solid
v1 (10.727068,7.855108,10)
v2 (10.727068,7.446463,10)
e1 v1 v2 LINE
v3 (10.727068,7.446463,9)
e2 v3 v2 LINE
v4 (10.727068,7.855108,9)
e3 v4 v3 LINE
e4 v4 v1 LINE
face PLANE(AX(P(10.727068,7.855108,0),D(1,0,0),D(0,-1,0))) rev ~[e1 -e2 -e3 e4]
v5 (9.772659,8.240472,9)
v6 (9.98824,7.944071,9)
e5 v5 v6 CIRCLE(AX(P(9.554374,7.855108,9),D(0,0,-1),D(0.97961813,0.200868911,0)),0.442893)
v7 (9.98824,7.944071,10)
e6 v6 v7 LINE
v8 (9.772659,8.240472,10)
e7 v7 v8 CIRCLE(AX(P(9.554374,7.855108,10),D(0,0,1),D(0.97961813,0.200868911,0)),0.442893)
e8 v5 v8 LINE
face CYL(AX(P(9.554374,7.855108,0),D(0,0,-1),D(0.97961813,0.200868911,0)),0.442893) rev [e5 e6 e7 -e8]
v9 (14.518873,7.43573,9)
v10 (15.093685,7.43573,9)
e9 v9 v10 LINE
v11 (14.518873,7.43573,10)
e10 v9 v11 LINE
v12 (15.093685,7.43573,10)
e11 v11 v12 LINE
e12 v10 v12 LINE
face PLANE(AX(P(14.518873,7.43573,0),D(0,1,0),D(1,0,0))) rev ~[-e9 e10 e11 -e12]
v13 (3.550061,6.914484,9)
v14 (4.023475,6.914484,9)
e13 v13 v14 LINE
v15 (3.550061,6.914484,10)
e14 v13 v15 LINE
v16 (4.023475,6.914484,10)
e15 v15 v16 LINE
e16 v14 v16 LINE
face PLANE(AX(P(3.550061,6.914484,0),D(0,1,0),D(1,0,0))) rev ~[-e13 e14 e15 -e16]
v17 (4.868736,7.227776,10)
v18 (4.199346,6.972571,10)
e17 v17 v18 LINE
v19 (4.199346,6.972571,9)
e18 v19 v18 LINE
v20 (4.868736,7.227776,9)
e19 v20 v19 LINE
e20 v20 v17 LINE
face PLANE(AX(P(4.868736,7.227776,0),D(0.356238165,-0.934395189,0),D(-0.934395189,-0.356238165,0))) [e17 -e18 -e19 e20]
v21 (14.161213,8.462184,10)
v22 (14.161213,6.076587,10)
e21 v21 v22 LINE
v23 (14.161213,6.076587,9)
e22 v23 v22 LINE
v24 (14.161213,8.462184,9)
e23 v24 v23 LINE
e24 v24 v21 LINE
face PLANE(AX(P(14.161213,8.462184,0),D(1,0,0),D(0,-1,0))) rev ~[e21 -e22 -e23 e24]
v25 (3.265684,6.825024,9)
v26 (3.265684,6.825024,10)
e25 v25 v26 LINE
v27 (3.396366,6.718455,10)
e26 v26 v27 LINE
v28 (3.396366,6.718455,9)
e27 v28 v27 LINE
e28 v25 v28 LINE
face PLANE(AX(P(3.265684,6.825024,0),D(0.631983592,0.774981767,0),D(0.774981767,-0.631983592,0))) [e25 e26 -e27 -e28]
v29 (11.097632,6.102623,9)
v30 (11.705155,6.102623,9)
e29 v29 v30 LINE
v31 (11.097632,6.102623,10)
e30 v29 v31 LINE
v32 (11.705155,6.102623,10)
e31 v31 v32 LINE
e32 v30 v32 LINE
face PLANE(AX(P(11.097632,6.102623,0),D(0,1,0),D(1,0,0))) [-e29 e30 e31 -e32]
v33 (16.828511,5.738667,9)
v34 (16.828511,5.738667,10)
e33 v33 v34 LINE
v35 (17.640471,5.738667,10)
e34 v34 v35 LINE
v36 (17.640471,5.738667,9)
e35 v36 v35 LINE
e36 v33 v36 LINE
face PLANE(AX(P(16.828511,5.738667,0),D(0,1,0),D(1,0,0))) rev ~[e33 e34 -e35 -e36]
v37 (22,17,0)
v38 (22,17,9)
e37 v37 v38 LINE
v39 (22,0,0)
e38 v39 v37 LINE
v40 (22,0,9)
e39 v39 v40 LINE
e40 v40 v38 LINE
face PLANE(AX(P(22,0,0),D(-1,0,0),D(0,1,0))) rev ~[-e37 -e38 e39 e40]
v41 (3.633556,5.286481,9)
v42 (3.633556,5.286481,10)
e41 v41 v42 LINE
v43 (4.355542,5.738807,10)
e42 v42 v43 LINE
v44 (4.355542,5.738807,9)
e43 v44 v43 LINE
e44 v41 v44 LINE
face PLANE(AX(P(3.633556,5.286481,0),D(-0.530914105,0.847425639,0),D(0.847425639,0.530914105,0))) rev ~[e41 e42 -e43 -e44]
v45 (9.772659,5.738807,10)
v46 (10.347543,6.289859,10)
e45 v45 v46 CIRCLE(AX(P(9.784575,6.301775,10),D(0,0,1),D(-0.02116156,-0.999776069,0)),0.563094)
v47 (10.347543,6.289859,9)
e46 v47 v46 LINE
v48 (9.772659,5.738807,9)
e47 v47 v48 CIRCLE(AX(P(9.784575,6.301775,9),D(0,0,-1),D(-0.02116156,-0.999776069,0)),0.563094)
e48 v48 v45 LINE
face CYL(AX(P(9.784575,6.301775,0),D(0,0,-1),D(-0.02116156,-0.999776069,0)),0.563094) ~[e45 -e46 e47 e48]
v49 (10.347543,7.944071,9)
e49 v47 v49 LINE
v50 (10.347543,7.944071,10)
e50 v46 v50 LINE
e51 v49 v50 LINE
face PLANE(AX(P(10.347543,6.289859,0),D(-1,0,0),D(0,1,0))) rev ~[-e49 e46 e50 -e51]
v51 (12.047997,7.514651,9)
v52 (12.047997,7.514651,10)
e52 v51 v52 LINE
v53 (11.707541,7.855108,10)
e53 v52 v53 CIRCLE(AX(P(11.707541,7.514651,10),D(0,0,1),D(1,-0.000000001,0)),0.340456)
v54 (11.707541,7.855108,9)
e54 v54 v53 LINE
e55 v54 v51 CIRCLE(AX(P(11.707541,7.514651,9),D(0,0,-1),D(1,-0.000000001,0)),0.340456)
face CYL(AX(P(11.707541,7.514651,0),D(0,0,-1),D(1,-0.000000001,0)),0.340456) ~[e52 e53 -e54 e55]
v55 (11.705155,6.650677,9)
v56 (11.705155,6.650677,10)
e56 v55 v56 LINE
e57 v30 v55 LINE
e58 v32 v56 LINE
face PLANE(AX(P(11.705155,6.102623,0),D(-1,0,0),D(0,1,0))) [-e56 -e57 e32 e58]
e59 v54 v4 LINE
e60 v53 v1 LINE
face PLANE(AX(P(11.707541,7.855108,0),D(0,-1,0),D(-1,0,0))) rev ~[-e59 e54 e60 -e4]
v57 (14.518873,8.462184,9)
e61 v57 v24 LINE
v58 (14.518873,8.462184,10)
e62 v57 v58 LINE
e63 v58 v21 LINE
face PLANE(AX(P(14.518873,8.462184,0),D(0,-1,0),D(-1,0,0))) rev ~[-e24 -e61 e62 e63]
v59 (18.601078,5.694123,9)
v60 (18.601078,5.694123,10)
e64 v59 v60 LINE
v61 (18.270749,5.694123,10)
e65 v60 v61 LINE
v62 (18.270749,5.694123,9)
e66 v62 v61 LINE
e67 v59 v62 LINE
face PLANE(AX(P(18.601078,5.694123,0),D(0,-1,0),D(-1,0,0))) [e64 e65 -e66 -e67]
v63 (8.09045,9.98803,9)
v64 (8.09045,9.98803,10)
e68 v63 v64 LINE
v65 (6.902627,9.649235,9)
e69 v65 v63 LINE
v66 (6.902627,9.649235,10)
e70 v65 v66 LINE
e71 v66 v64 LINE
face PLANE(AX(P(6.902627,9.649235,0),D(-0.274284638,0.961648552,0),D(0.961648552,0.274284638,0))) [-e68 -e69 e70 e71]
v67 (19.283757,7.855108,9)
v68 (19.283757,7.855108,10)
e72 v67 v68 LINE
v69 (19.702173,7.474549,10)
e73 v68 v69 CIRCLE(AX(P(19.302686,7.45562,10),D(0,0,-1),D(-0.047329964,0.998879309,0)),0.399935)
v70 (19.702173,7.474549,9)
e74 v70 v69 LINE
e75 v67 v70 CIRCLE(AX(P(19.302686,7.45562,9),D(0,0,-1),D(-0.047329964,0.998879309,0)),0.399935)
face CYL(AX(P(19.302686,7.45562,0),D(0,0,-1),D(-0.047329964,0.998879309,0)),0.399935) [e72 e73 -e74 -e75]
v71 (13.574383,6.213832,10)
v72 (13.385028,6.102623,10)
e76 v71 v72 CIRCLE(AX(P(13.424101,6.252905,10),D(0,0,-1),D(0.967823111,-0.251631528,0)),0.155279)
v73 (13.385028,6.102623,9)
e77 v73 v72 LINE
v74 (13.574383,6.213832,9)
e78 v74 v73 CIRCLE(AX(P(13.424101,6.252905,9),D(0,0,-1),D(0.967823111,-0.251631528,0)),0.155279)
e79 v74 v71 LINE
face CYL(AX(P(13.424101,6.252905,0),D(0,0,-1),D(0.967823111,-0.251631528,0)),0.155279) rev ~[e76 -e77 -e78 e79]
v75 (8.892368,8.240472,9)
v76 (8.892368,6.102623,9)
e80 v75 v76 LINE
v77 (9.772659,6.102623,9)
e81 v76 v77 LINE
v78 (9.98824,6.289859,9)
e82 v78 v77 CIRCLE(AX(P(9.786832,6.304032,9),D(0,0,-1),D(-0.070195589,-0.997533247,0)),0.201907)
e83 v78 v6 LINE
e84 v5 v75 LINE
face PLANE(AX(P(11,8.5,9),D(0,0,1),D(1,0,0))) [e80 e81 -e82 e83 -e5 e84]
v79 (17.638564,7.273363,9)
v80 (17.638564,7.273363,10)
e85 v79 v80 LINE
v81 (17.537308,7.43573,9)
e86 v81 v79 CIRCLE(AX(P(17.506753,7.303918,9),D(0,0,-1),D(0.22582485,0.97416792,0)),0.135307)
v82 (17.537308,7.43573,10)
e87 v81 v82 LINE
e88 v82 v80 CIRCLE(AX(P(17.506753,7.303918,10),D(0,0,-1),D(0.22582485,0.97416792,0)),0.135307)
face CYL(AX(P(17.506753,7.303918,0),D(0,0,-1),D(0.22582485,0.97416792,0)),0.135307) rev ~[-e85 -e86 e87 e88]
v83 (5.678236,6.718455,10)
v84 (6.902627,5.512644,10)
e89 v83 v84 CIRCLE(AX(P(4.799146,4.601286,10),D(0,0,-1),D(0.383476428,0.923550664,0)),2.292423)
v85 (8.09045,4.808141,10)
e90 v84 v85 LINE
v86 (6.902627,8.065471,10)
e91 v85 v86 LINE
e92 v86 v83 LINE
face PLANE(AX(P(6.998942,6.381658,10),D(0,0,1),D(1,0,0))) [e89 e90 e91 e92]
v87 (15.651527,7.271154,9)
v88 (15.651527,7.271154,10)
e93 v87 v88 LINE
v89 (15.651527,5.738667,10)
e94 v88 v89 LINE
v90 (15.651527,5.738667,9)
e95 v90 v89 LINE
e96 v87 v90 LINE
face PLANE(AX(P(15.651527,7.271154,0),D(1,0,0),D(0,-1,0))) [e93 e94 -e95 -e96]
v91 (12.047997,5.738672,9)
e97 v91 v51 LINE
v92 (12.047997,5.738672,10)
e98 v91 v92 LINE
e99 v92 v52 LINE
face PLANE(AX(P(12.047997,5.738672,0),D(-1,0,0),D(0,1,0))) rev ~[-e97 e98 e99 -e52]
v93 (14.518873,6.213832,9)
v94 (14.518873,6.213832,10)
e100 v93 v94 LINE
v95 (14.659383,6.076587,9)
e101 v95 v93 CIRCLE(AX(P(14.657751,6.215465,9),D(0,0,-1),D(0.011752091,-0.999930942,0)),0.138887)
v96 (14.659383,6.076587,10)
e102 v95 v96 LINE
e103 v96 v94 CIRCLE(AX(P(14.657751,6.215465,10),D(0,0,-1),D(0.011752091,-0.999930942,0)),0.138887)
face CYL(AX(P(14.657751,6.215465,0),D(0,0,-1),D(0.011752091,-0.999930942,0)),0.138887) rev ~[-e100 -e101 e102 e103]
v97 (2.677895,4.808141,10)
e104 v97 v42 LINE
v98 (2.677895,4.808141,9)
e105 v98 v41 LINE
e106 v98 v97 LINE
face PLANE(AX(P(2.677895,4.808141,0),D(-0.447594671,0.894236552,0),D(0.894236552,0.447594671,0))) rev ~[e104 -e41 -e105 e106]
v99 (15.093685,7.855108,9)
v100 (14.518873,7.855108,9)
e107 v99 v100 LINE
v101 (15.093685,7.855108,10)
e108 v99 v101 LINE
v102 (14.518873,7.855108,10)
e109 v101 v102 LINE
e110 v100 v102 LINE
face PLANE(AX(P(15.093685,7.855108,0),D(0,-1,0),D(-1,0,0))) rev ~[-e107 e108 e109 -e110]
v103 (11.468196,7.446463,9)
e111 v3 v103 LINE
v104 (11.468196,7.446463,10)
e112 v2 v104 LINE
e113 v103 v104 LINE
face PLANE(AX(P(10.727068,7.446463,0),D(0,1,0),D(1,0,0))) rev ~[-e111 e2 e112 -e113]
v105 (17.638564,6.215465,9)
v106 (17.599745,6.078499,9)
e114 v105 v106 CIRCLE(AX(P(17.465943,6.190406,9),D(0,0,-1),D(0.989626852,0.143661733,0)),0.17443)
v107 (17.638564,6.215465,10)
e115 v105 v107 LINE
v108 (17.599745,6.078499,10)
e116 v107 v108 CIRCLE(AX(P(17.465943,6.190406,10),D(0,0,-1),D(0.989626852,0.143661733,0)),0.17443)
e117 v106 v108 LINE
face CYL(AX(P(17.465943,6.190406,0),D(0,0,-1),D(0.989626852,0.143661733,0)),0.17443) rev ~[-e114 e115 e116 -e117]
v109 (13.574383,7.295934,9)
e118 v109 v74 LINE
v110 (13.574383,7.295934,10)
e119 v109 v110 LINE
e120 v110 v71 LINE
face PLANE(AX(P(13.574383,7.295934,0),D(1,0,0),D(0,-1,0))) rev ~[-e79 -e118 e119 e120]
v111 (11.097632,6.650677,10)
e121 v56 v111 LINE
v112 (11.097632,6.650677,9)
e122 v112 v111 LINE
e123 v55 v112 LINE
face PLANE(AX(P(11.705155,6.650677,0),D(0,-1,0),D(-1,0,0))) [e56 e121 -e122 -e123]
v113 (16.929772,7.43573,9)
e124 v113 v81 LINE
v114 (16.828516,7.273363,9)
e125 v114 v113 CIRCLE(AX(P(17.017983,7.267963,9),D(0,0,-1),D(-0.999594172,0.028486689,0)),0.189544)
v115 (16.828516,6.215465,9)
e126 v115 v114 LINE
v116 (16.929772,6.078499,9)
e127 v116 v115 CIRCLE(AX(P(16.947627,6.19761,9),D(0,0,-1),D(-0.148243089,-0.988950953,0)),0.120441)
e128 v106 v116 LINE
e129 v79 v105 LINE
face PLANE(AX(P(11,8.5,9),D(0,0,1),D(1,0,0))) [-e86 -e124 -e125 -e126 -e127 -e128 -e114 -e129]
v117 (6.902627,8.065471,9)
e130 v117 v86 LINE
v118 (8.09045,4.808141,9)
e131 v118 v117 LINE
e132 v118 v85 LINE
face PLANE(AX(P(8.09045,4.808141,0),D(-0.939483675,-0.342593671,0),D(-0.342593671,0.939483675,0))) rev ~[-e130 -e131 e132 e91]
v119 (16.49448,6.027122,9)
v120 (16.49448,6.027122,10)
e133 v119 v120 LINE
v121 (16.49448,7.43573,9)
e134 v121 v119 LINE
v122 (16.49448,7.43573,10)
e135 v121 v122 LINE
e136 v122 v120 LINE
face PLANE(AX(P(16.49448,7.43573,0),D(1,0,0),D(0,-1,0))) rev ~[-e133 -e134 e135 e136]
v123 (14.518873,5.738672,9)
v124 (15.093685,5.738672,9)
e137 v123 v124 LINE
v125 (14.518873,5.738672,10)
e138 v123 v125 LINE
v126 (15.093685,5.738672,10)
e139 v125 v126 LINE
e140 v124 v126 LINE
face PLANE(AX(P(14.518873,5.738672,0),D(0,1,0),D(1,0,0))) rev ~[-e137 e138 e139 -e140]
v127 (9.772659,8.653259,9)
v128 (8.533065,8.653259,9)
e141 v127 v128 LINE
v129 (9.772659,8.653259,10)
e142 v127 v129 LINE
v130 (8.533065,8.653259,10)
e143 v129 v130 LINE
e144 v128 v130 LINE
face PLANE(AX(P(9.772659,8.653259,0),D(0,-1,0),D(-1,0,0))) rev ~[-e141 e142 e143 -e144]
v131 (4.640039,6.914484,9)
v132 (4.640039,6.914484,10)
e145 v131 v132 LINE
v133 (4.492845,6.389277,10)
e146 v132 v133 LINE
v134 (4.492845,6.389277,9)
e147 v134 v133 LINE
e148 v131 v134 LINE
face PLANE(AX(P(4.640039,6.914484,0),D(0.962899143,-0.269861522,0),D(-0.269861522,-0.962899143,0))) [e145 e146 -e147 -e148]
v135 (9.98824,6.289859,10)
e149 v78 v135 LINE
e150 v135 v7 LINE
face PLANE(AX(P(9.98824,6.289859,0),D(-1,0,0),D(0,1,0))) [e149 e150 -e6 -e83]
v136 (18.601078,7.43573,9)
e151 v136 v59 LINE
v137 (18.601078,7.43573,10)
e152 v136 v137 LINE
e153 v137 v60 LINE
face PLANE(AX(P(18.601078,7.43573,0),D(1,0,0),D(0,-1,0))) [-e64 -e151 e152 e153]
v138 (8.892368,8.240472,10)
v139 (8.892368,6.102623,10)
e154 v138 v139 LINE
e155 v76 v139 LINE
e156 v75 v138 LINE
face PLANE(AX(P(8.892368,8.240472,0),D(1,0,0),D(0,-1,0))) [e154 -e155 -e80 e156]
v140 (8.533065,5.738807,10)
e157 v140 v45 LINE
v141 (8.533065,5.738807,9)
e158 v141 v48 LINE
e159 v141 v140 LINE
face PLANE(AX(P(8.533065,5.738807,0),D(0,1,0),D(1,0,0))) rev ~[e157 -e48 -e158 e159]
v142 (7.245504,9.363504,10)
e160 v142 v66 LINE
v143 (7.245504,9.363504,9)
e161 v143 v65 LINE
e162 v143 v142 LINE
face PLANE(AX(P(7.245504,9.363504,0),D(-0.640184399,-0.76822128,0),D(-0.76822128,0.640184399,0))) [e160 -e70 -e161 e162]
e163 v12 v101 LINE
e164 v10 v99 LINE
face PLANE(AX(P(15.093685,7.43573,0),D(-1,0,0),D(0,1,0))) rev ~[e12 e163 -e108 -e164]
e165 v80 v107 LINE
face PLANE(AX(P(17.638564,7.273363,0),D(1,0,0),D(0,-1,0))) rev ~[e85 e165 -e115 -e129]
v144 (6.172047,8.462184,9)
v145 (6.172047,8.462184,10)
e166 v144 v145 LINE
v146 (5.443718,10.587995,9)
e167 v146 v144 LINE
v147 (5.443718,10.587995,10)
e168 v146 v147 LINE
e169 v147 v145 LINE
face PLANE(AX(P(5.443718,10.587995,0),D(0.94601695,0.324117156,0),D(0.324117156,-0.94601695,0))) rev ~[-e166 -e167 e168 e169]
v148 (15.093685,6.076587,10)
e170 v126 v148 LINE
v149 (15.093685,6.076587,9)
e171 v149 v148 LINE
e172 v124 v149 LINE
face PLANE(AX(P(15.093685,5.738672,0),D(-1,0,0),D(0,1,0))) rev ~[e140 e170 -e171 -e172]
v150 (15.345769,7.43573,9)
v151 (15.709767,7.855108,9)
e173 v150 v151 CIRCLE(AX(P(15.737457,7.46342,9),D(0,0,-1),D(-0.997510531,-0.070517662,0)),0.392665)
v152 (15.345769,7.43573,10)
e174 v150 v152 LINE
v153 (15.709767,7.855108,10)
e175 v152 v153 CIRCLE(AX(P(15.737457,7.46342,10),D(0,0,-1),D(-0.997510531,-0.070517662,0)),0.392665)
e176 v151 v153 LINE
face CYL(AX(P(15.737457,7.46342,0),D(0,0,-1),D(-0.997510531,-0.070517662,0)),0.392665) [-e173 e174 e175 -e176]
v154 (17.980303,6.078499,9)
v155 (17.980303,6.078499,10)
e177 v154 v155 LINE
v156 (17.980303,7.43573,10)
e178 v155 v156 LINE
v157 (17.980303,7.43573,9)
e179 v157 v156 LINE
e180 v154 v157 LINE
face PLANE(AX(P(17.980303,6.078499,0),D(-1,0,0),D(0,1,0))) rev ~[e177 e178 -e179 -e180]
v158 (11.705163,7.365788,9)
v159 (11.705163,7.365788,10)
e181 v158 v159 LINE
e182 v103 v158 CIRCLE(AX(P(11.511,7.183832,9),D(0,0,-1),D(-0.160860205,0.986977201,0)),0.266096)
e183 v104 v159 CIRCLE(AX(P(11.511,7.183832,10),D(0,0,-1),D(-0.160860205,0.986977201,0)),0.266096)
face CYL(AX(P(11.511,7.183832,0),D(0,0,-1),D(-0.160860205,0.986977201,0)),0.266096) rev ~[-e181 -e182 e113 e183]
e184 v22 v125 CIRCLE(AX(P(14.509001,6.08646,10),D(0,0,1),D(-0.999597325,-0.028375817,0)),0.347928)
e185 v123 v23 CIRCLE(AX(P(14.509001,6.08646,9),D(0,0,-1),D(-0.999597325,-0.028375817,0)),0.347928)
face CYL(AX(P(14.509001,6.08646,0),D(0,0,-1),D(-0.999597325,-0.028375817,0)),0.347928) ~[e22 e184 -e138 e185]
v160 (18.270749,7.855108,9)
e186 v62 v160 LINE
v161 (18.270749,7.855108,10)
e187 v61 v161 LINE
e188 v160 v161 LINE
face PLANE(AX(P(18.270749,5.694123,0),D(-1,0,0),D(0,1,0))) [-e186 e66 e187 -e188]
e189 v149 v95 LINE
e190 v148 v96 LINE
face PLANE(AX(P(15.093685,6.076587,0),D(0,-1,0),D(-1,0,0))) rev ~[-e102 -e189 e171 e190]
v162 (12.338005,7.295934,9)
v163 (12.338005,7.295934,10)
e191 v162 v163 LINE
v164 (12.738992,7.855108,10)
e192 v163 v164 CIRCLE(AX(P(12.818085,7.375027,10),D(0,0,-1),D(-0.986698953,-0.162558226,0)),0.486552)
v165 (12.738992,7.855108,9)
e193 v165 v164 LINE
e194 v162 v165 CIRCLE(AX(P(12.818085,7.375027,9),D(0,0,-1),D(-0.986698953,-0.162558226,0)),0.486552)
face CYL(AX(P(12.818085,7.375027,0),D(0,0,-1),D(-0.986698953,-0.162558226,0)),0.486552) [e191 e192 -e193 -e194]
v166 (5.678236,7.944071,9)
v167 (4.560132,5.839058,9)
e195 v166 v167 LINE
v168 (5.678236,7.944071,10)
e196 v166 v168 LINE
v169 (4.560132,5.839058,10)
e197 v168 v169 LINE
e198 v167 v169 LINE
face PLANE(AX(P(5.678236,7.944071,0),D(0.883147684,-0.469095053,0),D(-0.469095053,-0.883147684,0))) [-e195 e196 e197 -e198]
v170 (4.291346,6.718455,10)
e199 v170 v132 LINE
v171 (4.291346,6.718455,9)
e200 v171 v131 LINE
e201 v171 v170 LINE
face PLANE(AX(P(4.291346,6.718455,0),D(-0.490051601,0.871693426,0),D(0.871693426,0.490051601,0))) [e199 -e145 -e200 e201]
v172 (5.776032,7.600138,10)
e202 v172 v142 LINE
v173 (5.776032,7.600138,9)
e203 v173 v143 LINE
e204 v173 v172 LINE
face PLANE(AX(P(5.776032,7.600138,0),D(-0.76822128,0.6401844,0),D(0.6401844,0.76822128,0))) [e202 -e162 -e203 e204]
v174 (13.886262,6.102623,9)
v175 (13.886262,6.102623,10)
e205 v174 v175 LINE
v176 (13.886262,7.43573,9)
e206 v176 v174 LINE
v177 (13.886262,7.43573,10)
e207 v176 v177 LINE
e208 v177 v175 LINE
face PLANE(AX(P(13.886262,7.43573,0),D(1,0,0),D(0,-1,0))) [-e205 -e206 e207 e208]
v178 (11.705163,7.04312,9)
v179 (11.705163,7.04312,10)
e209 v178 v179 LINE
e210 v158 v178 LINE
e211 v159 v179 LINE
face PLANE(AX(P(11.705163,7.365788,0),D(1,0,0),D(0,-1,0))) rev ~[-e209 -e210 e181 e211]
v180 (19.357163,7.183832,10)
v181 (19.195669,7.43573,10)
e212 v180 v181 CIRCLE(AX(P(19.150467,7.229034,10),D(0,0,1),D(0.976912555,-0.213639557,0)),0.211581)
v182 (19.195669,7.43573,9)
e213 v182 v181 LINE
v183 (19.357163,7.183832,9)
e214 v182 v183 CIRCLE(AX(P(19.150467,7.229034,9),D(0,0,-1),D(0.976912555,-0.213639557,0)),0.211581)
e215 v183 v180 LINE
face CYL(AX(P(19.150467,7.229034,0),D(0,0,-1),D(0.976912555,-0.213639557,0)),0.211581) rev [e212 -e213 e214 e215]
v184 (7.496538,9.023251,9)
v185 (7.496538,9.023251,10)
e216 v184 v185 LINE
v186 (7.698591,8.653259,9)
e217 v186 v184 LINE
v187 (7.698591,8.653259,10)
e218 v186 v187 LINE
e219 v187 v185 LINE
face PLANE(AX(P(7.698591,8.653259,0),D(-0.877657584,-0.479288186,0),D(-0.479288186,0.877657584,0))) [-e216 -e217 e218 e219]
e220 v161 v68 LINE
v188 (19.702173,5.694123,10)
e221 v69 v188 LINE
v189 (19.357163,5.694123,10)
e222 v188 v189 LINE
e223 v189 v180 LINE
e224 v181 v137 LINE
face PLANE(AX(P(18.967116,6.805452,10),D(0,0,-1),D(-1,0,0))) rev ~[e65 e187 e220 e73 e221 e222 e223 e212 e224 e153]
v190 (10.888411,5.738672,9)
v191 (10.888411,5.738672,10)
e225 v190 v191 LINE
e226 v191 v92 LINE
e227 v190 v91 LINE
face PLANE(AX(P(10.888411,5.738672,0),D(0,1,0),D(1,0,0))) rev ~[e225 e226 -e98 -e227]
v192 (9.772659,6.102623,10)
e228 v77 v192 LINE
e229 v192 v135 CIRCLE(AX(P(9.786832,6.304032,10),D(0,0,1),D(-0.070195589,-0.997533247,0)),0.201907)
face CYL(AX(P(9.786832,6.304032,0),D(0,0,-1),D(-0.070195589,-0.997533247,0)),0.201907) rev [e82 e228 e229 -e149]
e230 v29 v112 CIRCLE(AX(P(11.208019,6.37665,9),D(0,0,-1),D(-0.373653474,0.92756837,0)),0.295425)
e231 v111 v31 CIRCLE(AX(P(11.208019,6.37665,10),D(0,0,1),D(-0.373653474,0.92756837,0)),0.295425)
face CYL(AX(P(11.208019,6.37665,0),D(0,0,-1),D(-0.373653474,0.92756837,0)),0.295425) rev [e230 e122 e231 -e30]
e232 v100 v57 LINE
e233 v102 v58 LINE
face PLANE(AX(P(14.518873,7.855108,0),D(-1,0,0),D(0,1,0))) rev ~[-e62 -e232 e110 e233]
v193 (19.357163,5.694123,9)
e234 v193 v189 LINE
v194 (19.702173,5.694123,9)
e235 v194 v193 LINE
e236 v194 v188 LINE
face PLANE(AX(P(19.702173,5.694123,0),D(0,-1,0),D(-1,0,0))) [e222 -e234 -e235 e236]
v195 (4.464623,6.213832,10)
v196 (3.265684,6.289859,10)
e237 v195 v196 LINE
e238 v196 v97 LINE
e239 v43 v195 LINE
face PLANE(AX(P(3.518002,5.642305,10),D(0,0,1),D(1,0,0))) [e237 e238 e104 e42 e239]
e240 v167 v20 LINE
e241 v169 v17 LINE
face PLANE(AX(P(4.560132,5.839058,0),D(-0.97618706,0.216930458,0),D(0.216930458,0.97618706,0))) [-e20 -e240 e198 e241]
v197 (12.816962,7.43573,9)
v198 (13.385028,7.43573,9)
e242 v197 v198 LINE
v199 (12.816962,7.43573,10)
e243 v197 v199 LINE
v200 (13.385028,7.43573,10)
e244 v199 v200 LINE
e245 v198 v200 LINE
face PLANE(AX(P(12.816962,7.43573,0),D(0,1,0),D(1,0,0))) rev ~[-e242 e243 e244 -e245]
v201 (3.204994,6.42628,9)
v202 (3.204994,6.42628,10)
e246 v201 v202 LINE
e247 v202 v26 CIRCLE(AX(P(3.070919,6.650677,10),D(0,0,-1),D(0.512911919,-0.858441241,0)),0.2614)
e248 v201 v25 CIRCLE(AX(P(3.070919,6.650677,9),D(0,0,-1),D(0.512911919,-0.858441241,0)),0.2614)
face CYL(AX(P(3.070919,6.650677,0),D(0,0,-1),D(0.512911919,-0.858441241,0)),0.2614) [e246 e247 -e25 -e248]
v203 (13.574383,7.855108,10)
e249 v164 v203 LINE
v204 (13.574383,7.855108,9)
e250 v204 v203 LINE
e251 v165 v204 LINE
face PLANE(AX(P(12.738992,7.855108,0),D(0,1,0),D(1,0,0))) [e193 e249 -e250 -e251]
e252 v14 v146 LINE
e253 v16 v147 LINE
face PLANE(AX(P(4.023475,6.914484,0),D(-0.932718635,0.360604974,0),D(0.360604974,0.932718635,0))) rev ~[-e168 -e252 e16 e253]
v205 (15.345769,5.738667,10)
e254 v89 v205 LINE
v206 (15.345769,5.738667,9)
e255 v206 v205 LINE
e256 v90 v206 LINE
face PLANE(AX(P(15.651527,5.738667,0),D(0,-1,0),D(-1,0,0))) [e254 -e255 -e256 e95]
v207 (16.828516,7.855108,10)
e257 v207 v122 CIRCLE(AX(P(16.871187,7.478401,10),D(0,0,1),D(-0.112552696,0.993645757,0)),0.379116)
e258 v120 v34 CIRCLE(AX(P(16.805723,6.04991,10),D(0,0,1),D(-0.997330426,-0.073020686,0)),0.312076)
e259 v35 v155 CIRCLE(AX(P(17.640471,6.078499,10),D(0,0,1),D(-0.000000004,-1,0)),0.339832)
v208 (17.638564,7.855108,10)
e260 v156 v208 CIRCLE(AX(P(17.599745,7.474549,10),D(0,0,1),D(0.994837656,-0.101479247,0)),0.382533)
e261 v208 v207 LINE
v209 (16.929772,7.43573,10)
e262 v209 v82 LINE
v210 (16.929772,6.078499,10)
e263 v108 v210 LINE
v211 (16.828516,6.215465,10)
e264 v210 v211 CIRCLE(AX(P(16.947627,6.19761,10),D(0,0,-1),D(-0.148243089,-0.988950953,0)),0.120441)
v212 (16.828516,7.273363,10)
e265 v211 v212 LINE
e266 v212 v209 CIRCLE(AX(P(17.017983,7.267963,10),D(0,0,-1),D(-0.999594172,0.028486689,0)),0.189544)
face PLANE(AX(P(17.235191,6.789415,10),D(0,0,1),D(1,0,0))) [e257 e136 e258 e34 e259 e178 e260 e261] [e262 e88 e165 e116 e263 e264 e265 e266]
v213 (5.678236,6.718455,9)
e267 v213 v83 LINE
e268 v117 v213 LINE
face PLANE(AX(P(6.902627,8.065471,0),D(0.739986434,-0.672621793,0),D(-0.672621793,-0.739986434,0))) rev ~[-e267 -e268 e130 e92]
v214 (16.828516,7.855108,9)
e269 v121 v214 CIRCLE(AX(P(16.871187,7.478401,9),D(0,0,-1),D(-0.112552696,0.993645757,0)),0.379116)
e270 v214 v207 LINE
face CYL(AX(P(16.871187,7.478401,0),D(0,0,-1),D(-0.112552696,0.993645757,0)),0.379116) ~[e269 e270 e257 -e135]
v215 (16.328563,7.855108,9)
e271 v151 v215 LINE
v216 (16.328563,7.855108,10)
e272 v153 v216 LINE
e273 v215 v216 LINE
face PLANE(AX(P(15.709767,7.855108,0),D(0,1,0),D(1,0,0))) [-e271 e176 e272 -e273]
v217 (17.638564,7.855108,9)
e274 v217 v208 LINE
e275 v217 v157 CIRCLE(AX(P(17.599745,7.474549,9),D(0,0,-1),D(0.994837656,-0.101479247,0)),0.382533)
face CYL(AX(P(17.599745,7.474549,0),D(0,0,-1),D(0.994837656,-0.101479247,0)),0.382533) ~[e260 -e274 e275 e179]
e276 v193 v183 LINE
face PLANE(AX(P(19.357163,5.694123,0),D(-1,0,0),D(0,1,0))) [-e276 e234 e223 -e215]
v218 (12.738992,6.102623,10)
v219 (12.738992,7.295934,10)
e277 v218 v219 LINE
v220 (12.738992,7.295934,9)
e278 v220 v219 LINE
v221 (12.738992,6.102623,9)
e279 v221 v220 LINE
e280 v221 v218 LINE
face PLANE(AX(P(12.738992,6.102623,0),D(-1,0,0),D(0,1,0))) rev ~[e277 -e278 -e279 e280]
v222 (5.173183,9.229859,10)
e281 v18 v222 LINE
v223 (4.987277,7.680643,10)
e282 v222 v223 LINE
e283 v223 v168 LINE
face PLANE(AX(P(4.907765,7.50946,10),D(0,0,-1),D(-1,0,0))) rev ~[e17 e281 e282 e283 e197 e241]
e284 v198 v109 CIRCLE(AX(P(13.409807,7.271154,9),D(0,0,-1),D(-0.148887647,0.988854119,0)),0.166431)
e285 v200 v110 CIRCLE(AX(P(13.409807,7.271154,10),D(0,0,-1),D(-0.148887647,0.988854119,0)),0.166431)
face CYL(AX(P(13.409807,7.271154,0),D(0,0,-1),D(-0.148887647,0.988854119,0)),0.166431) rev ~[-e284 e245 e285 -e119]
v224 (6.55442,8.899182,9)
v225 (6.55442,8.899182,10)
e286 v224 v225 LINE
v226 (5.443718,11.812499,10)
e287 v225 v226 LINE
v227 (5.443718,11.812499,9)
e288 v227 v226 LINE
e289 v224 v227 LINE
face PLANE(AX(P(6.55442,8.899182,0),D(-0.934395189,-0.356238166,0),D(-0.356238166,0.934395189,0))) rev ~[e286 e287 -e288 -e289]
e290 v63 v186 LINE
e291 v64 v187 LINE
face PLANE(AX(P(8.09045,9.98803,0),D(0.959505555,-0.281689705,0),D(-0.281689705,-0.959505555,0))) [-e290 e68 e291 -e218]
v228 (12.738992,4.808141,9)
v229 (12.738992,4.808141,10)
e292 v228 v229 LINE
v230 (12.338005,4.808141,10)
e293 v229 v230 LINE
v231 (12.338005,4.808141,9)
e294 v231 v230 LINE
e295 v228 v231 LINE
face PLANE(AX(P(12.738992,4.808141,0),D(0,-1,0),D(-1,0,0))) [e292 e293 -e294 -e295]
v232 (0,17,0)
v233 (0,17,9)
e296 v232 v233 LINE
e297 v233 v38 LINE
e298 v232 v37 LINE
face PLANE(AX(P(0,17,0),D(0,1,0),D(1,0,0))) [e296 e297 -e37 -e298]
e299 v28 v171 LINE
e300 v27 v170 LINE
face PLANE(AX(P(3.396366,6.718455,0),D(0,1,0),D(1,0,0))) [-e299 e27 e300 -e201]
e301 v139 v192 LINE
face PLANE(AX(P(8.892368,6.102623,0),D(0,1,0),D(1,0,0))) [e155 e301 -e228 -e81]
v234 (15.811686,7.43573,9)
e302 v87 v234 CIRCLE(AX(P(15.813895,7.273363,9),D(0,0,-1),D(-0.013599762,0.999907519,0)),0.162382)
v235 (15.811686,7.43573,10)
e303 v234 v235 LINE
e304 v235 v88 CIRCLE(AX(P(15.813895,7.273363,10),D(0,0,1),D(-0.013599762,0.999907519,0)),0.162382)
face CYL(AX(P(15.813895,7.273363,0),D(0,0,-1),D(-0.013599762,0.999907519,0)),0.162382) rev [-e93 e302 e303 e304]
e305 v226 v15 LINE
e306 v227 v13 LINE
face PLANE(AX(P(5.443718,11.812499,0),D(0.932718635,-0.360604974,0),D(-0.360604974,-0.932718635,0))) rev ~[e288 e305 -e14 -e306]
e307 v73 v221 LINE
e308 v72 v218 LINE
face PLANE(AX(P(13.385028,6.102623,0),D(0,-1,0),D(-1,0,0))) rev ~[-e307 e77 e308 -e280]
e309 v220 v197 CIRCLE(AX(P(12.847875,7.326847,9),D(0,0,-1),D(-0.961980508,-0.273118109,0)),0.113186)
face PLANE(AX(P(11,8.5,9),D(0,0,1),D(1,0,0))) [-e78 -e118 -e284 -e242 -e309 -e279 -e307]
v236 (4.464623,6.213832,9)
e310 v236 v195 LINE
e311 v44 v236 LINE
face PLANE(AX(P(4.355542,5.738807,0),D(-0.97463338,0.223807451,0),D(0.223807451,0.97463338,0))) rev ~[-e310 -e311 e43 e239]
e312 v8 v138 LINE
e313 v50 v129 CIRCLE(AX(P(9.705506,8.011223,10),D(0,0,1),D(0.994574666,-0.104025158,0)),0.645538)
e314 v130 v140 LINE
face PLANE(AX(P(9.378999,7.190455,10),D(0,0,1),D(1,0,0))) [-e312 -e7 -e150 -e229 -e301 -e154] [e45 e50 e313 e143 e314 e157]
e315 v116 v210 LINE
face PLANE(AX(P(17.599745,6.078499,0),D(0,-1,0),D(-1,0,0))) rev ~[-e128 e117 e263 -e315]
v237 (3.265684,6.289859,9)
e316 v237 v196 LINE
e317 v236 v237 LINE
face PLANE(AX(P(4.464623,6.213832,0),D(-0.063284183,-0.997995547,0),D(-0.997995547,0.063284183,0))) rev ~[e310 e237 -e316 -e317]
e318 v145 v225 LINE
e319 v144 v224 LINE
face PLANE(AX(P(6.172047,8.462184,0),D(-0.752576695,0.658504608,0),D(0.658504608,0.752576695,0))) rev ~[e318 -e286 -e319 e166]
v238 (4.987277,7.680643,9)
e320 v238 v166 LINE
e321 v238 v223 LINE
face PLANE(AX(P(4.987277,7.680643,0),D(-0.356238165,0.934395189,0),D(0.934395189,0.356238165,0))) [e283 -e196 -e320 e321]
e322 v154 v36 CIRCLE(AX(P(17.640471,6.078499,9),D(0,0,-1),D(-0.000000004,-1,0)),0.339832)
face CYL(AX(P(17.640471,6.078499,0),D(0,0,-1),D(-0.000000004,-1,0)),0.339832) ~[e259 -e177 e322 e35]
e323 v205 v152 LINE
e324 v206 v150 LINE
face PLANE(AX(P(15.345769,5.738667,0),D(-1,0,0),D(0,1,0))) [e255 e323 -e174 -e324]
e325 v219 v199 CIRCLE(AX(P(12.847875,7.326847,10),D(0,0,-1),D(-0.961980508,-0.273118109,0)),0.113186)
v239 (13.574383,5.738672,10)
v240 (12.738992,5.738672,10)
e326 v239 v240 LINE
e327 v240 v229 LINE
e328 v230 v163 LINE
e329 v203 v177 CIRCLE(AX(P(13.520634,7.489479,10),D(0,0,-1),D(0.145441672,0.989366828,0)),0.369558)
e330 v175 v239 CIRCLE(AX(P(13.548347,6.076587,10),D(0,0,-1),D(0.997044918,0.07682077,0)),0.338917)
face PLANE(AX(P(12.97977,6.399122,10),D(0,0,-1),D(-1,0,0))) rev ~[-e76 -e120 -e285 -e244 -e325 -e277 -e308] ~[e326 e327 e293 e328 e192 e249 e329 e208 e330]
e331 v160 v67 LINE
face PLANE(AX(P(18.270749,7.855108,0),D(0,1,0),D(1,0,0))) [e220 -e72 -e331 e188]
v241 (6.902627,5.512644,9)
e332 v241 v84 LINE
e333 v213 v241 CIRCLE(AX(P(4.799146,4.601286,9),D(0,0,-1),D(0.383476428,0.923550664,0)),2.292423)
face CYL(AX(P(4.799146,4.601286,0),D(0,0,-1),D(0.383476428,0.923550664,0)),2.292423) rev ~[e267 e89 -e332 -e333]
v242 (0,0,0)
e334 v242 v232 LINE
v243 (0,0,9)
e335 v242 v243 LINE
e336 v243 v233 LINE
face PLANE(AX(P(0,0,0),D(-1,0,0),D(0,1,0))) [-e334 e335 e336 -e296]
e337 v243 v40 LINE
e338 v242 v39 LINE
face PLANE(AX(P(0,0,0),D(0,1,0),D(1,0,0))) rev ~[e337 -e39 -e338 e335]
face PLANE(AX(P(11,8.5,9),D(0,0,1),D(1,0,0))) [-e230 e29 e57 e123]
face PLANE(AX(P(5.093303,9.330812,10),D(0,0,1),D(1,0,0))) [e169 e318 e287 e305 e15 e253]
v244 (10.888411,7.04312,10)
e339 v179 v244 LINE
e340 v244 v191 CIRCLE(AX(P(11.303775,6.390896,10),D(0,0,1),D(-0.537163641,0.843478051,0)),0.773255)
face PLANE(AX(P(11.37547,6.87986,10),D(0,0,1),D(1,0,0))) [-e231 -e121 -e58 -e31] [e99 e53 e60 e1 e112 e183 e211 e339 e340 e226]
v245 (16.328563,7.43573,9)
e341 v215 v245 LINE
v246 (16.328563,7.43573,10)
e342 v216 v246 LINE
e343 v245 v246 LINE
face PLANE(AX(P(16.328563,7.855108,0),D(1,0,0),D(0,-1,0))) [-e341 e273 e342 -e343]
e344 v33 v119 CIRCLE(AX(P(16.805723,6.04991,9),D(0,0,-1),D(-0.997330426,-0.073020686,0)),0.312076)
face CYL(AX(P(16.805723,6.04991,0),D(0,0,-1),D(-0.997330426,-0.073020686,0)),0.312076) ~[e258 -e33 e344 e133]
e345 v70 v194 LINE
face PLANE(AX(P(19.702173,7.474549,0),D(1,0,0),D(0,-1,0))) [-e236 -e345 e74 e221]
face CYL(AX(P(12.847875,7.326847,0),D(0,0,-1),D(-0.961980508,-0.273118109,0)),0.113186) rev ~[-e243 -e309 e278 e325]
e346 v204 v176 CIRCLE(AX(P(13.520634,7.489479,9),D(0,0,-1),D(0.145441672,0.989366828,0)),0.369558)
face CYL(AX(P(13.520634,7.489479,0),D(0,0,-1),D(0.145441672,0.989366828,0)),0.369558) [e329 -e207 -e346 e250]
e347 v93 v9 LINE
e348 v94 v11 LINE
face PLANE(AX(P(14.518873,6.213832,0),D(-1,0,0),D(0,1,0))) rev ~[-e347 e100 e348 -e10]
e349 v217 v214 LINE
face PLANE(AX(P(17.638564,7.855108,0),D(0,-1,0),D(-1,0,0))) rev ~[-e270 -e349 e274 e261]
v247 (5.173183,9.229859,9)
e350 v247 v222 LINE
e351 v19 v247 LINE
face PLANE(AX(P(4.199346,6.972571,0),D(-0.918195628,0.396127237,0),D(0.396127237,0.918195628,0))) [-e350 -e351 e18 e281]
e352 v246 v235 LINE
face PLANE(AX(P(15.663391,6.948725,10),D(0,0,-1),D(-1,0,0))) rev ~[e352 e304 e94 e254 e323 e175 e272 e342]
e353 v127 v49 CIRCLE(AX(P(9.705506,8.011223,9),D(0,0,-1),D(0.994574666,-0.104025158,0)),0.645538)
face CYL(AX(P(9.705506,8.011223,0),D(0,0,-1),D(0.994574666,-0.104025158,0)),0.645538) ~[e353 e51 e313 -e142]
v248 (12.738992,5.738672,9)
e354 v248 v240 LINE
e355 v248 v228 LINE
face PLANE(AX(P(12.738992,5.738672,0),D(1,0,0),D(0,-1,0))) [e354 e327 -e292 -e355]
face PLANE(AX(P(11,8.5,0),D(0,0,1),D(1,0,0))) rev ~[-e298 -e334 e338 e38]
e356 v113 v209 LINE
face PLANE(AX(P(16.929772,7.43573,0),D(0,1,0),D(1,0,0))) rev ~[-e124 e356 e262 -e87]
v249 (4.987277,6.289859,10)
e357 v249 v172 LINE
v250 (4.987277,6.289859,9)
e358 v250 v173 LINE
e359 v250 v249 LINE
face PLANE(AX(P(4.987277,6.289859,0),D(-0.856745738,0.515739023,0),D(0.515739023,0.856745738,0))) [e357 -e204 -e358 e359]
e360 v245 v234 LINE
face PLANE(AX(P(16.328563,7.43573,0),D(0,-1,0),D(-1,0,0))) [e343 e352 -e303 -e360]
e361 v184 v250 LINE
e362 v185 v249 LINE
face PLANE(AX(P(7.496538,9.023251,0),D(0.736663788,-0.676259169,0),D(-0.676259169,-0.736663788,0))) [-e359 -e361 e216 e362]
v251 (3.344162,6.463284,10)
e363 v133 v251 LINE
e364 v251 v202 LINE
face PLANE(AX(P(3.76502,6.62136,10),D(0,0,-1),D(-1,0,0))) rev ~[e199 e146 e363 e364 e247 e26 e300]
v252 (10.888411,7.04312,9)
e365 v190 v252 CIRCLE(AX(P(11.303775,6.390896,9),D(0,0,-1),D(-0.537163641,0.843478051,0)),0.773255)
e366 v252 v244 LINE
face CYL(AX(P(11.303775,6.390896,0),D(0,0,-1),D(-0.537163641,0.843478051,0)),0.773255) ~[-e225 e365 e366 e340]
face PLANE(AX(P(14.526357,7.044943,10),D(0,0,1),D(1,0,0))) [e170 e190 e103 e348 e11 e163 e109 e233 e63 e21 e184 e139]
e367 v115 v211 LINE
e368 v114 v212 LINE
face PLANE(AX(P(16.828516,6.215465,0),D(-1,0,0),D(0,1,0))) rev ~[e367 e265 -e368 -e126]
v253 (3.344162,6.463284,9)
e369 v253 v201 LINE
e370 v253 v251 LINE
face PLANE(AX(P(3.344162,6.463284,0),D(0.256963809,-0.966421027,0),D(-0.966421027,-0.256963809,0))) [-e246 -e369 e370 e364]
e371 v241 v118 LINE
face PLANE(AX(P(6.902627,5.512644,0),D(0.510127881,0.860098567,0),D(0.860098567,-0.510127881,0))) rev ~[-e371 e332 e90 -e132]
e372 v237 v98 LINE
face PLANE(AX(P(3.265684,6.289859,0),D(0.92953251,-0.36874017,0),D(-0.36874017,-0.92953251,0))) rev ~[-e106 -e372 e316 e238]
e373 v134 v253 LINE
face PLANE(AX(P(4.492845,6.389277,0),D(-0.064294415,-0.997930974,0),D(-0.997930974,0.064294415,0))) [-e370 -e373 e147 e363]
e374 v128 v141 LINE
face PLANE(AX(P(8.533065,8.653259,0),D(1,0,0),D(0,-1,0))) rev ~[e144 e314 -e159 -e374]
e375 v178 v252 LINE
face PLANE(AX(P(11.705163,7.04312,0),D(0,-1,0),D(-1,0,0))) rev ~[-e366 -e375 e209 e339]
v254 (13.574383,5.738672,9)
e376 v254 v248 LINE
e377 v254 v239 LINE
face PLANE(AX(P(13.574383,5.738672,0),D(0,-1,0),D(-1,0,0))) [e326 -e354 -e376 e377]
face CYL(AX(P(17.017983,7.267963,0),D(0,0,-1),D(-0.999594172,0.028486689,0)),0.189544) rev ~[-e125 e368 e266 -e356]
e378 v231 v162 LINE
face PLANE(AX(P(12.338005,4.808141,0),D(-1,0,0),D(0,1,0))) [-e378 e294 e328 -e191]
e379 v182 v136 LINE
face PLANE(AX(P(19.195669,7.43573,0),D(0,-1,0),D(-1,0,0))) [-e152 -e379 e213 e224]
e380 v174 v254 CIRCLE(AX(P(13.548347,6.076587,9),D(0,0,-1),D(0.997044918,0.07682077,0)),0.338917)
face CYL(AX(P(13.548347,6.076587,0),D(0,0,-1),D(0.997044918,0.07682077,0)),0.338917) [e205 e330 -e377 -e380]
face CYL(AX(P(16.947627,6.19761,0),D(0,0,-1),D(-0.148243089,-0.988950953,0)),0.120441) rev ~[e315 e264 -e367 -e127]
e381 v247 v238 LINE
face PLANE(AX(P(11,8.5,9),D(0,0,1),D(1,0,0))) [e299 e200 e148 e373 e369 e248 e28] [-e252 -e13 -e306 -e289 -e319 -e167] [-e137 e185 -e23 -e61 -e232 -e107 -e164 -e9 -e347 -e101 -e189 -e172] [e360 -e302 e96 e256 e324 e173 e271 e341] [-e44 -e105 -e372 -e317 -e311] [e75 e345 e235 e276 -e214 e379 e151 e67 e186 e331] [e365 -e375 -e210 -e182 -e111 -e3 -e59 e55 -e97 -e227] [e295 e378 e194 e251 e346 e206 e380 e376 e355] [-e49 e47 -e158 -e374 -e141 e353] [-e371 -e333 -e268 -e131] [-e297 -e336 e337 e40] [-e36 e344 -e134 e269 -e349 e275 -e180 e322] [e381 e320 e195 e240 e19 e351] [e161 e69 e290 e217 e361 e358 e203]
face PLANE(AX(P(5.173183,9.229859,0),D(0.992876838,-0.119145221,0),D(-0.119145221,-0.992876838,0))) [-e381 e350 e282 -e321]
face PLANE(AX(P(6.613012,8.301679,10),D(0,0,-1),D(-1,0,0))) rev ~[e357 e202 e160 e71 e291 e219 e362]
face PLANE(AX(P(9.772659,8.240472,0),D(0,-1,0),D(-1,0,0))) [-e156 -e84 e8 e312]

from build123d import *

# Parameters (mm, degrees)
BOSS_EXTRU_1_DEPTH    = 10
BOSS_EXTRU_1_2_DEPTH  = 10
BOSS_EXTRU_1_3_DEPTH  = 10
BOSS_EXTRU_1_4_DEPTH  = 10
BOSS_EXTRU_1_5_DEPTH  = 10
BOSS_EXTRU_1_6_DEPTH  = 10
BOSS_EXTRU_1_7_DEPTH  = 10
BOSS_EXTRU_1_8_DEPTH  = 10
BOSS_EXTRU_1_9_DEPTH  = 10
BOSS_EXTRU_1_10_DEPTH = 10
BOSS_EXTRU_1_11_DEPTH = 10
BOSS_EXTRU_1_12_DEPTH = 10
BOSS_EXTRU_1_13_DEPTH = 10
ESQUISSE2_W           = 22
ESQUISSE2_H           = 17
BOSS_EXTRU_2_DEPTH    = 9


with BuildPart() as part:
    # Esquisse1 → Boss.-Extru.1 (new body)
    with BuildSketch(Plane.XY):
        Polygon((5.443717547, 11.812499229), (3.550061207, 6.914484272), (4.023475292, 6.914484272), (5.443717547, 10.587995489), (6.172046909, 8.462184165), (6.554419824, 8.899181782), align=None)
    extrude(amount=BOSS_EXTRU_1_DEPTH)



with BuildPart() as body_2:
    # Esquisse1 → Boss.-Extru.1 2 (new body)
    with BuildSketch(Plane.XY):
        with BuildLine():
            Line((6.902626833, 8.065470566), (5.678236467, 6.71845465))
            ThreePointArc((5.678236467, 6.71845465), (6.407694377, 6.234618767), (6.902626833, 5.512643789))
            Line((6.902626833, 5.512643789), (8.09044996, 4.808141168))
            Line((8.09044996, 4.808141168), (6.902626833, 8.065470566))
        make_face()
    extrude(amount=BOSS_EXTRU_1_2_DEPTH)


with BuildPart() as body_3:
    # Esquisse1 → Boss.-Extru.1 3 (new body)
    with BuildSketch(Plane.XY):
        Polygon((7.496538396, 9.023251364), (4.987277184, 6.289858676), (5.776031703, 7.600137795), (7.245503612, 9.363504086), (6.902626833, 9.649234735), (8.09044996, 9.988029647), (7.698590784, 8.65325933), align=None)
    extrude(amount=BOSS_EXTRU_1_3_DEPTH)


with BuildPart() as body_4:
    # Esquisse1 → Boss.-Extru.1 4 (new body)
    with BuildSketch(Plane.XY):
        with BuildLine():
            ThreePointArc((19.283756817, 7.855107538), (19.571781089, 7.751485217), (19.70217296, 7.474549255))
            Line((19.70217296, 7.474549255), (19.70217296, 5.694123098))
            Line((19.70217296, 5.694123098), (19.357163158, 5.694123098))
            Line((19.357163158, 5.694123098), (19.357163158, 7.183832057))
            ThreePointArc((19.357163158, 7.183832057), (19.328585973, 7.343227565), (19.195669208, 7.435730089))
            Line((19.195669208, 7.435730089), (18.601077847, 7.435730089))
            Line((18.601077847, 7.435730089), (18.601077847, 5.694123098))
            Line((18.601077847, 5.694123098), (18.270749313, 5.694123098))
            Line((18.270749313, 5.694123098), (18.270749313, 7.855107538))
            Line((18.270749313, 7.855107538), (19.283756817, 7.855107538))
        make_face()
    extrude(amount=BOSS_EXTRU_1_4_DEPTH)


with BuildPart() as body_5:
    # Esquisse1 → Boss.-Extru.1 5 (new body)
    with BuildSketch(Plane.XY):
        with BuildLine():
            Line((16.494479646, 7.435730089), (16.494479646, 6.027121876))
            ThreePointArc((16.494479646, 6.027121876), (16.601754173, 5.813714283), (16.828510675, 5.738666872))
            Line((16.828510675, 5.738666872), (17.640470987, 5.738666872))
            ThreePointArc((17.640470987, 5.738666872), (17.880768825, 5.838201495), (17.980303448, 6.078499332))
            Line((17.980303448, 6.078499332), (17.980303448, 7.435730089))
            ThreePointArc((17.980303448, 7.435730089), (17.896289803, 7.716195302), (17.638564331, 7.855107538))
            Line((17.638564331, 7.855107538), (16.828516054, 7.855107538))
            ThreePointArc((16.828516054, 7.855107538), (16.574641936, 7.714600019), (16.494479646, 7.435730089))
        make_face()
        with BuildLine():
            Line((17.638564331, 7.273362699), (17.638564331, 6.215464578))
            ThreePointArc((17.638564331, 6.215464578), (17.633763509, 6.142841489), (17.599745165, 6.078499332))
            Line((17.599745165, 6.078499332), (16.929772089, 6.078499332))
            ThreePointArc((16.929772089, 6.078499332), (16.85077764, 6.126011144), (16.828516054, 6.215464578))
            Line((16.828516054, 6.215464578), (16.828516054, 7.273362699))
            ThreePointArc((16.828516054, 7.273362699), (16.85715067, 7.368261985), (16.929772089, 7.435730089))
            Line((16.929772089, 7.435730089), (17.537308296, 7.435730089))
            ThreePointArc((17.537308296, 7.435730089), (17.621563701, 7.375517206), (17.638564331, 7.273362699))
        make_face(mode=Mode.SUBTRACT)
    extrude(amount=BOSS_EXTRU_1_5_DEPTH)


with BuildPart() as body_6:
    # Esquisse1 → Boss.-Extru.1 6 (new body)
    with BuildSketch(Plane.XY):
        with BuildLine():
            ThreePointArc((15.811686316, 7.435730089), (15.697522048, 7.386612234), (15.651527288, 7.271154337))
            Line((15.651527288, 7.271154337), (15.651527288, 5.738666872))
            Line((15.651527288, 5.738666872), (15.345769144, 5.738666872))
            Line((15.345769144, 5.738666872), (15.345769144, 7.435730089))
            ThreePointArc((15.345769144, 7.435730089), (15.440912126, 7.720805224), (15.709766935, 7.855107538))
            Line((15.709766935, 7.855107538), (16.328563178, 7.855107538))
            Line((16.328563178, 7.855107538), (16.328563178, 7.435730089))
            Line((16.328563178, 7.435730089), (15.811686316, 7.435730089))
        make_face()
    extrude(amount=BOSS_EXTRU_1_6_DEPTH)


with BuildPart() as body_7:
    # Esquisse1 → Boss.-Extru.1 7 (new body)
    with BuildSketch(Plane.XY):
        with BuildLine():
            Line((14.161212762, 8.462184165), (14.161212762, 6.076587297))
            ThreePointArc((14.161212762, 6.076587297), (14.270058526, 5.833555854), (14.518873285, 5.738672251))
            Line((14.518873285, 5.738672251), (15.09368484, 5.738672251))
            Line((15.09368484, 5.738672251), (15.09368484, 6.076587297))
            Line((15.09368484, 6.076587297), (14.659382776, 6.076587297))
            ThreePointArc((14.659382776, 6.076587297), (14.560703645, 6.116109364), (14.518873285, 6.213832369))
            Line((14.518873285, 6.213832369), (14.518873285, 7.435730089))
            Line((14.518873285, 7.435730089), (15.09368484, 7.435730089))
            Line((15.09368484, 7.435730089), (15.09368484, 7.855107538))
            Line((15.09368484, 7.855107538), (14.518873285, 7.855107538))
            Line((14.518873285, 7.855107538), (14.518873285, 8.462184165))
            Line((14.518873285, 8.462184165), (14.161212762, 8.462184165))
        make_face()
    extrude(amount=BOSS_EXTRU_1_7_DEPTH)


with BuildPart() as body_8:
    # Esquisse1 → Boss.-Extru.1 8 (new body)
    with BuildSketch(Plane.XY):
        with BuildLine():
            ThreePointArc((13.886262231, 6.102623129), (13.805699319, 5.85605539), (13.574383017, 5.738672251))
            Line((13.574383017, 5.738672251), (12.738992267, 5.738672251))
            Line((12.738992267, 5.738672251), (12.738992267, 4.808141168))
            Line((12.738992267, 4.808141168), (12.338004706, 4.808141168))
            Line((12.338004706, 4.808141168), (12.338004706, 7.295933822))
            ThreePointArc((12.338004706, 7.295933822), (12.422689818, 7.658567923), (12.738992267, 7.855107538))
            Line((12.738992267, 7.855107538), (13.574383017, 7.855107538))
            ThreePointArc((13.574383017, 7.855107538), (13.817178537, 7.710011113), (13.886262231, 7.435730089))
            Line((13.886262231, 7.435730089), (13.886262231, 6.102623129))
        make_face()
        with BuildLine():
            Line((13.574383017, 7.295933822), (13.574383017, 6.213832369))
            ThreePointArc((13.574383017, 6.213832369), (13.502737587, 6.119010995), (13.38502778, 6.102623129))
            Line((13.38502778, 6.102623129), (12.738992267, 6.102623129))
            Line((12.738992267, 6.102623129), (12.738992267, 7.295933822))
            ThreePointArc((12.738992267, 7.295933822), (12.749024413, 7.381980031), (12.81696207, 7.435730089))
            Line((12.81696207, 7.435730089), (13.38502778, 7.435730089))
            ThreePointArc((13.38502778, 7.435730089), (13.508658154, 7.405048709), (13.574383017, 7.295933822))
        make_face(mode=Mode.SUBTRACT)
    extrude(amount=BOSS_EXTRU_1_8_DEPTH)


with BuildPart() as body_9:
    # Esquisse1 → Boss.-Extru.1 9 (new body)
    with BuildSketch(Plane.XY):
        with BuildLine():
            Line((10.727068381, 7.446462813), (11.468195577, 7.446462813))
            ThreePointArc((11.468195577, 7.446462813), (11.596758234, 7.435730089), (11.705162978, 7.365787542))
            Line((11.705162978, 7.365787542), (11.705162978, 7.043119919))
            Line((11.705162978, 7.043119919), (10.888410557, 7.043119919))
            ThreePointArc((10.888410557, 7.043119919), (10.530519911, 6.390896085), (10.888410557, 5.738672251))
            Line((10.888410557, 5.738672251), (12.047997327, 5.738672251))
            Line((12.047997327, 5.738672251), (12.047997327, 7.514651407))
            ThreePointArc((12.047997327, 7.514651407), (11.948280035, 7.755390246), (11.707541196, 7.855107538))
            Line((11.707541196, 7.855107538), (10.727068381, 7.855107538))
            Line((10.727068381, 7.855107538), (10.727068381, 7.446462813))
        make_face()
        with BuildLine():
            ThreePointArc((11.097631979, 6.65067692), (10.91259355, 6.376650024), (11.097631979, 6.102623129))
            Line((11.097631979, 6.102623129), (11.705154613, 6.102623129))
            Line((11.705154613, 6.102623129), (11.705154613, 6.65067692))
            Line((11.705154613, 6.65067692), (11.097631979, 6.65067692))
        make_face(mode=Mode.SUBTRACT)
    extrude(amount=BOSS_EXTRU_1_9_DEPTH)


with BuildPart() as body_10:
    # Esquisse1 → Boss.-Extru.1 10 (new body)
    with BuildSketch(Plane.XY):
        with BuildLine():
            Line((8.533065369, 5.73880671), (9.772658698, 5.73880671))
            ThreePointArc((9.772658698, 5.73880671), (10.174227228, 5.895270347), (10.34754256, 6.289858676))
            Line((10.34754256, 6.289858676), (10.34754256, 7.944071011))
            ThreePointArc((10.34754256, 7.944071011), (10.206978339, 8.417727517), (9.772658698, 8.65325933))
            Line((9.772658698, 8.65325933), (8.533065369, 8.65325933))
            Line((8.533065369, 8.65325933), (8.533065369, 5.73880671))
        make_face()
        with BuildLine():
            ThreePointArc((9.772658698, 6.102623129), (9.919227173, 6.151592523), (9.988240146, 6.289858676))
            Line((9.988240146, 6.289858676), (9.988240146, 7.944071011))
            ThreePointArc((9.988240146, 7.944071011), (9.912548031, 8.115618007), (9.772658698, 8.240472493))
            Line((9.772658698, 8.240472493), (8.892367783, 8.240472493))
            Line((8.892367783, 8.240472493), (8.892367783, 6.102623129))
            Line((8.892367783, 6.102623129), (9.772658698, 6.102623129))
        make_face(mode=Mode.SUBTRACT)
    extrude(amount=BOSS_EXTRU_1_10_DEPTH)


with BuildPart() as body_11:
    # Esquisse1 → Boss.-Extru.1 11 (new body)
    with BuildSketch(Plane.XY):
        Polygon((4.355542191, 5.73880671), (4.464623497, 6.213832369), (3.265683859, 6.289858676), (2.677895095, 4.808141168), (3.633556258, 5.286480868), align=None)
    extrude(amount=BOSS_EXTRU_1_11_DEPTH)


with BuildPart() as body_12:
    # Esquisse1 → Boss.-Extru.1 12 (new body)
    with BuildSketch(Plane.XY):
        Polygon((4.199345564, 6.972570668), (5.173183133, 9.229859022), (4.987277184, 7.680642785), (5.678236467, 7.944071011), (4.560132448, 5.83905846), (4.868736322, 7.227775894), align=None)
    extrude(amount=BOSS_EXTRU_1_12_DEPTH)


with BuildPart() as body_13:
    # Esquisse1 → Boss.-Extru.1 13 (new body)
    with BuildSketch(Plane.XY):
        with BuildLine():
            Line((4.49284458, 6.389276558), (3.344161613, 6.46328358))
            Line((3.344161613, 6.46328358), (3.204994268, 6.426280069))
            ThreePointArc((3.204994268, 6.426280069), (2.812494667, 6.690009625), (3.265683859, 6.825023594))
            Line((3.265683859, 6.825023594), (3.396366031, 6.71845465))
            Line((3.396366031, 6.71845465), (4.291345624, 6.71845465))
            Line((4.291345624, 6.71845465), (4.640038971, 6.914484272))
            Line((4.640038971, 6.914484272), (4.49284458, 6.389276558))
        make_face()
    extrude(amount=BOSS_EXTRU_1_13_DEPTH)


with BuildPart() as part_1:
    add(part.part)

    add(body_2.part)  # Boss.-Extru.2 merges body 2

    add(body_3.part)  # Boss.-Extru.2 merges body 3

    add(body_4.part)  # Boss.-Extru.2 merges body 4

    add(body_5.part)  # Boss.-Extru.2 merges body 5

    add(body_6.part)  # Boss.-Extru.2 merges body 6

    add(body_7.part)  # Boss.-Extru.2 merges body 7

    add(body_8.part)  # Boss.-Extru.2 merges body 8

    add(body_9.part)  # Boss.-Extru.2 merges body 9

    add(body_10.part)  # Boss.-Extru.2 merges body 10

    add(body_11.part)  # Boss.-Extru.2 merges body 11

    add(body_12.part)  # Boss.-Extru.2 merges body 12

    add(body_13.part)  # Boss.-Extru.2 merges body 13
    # Esquisse2 → Boss.-Extru.2 (add)
    with BuildSketch(Plane.XY):
        with Locations((11, 8.5)):
            Rectangle(ESQUISSE2_W, ESQUISSE2_H)
    extrude(amount=BOSS_EXTRU_2_DEPTH)


solid = part_1.part
